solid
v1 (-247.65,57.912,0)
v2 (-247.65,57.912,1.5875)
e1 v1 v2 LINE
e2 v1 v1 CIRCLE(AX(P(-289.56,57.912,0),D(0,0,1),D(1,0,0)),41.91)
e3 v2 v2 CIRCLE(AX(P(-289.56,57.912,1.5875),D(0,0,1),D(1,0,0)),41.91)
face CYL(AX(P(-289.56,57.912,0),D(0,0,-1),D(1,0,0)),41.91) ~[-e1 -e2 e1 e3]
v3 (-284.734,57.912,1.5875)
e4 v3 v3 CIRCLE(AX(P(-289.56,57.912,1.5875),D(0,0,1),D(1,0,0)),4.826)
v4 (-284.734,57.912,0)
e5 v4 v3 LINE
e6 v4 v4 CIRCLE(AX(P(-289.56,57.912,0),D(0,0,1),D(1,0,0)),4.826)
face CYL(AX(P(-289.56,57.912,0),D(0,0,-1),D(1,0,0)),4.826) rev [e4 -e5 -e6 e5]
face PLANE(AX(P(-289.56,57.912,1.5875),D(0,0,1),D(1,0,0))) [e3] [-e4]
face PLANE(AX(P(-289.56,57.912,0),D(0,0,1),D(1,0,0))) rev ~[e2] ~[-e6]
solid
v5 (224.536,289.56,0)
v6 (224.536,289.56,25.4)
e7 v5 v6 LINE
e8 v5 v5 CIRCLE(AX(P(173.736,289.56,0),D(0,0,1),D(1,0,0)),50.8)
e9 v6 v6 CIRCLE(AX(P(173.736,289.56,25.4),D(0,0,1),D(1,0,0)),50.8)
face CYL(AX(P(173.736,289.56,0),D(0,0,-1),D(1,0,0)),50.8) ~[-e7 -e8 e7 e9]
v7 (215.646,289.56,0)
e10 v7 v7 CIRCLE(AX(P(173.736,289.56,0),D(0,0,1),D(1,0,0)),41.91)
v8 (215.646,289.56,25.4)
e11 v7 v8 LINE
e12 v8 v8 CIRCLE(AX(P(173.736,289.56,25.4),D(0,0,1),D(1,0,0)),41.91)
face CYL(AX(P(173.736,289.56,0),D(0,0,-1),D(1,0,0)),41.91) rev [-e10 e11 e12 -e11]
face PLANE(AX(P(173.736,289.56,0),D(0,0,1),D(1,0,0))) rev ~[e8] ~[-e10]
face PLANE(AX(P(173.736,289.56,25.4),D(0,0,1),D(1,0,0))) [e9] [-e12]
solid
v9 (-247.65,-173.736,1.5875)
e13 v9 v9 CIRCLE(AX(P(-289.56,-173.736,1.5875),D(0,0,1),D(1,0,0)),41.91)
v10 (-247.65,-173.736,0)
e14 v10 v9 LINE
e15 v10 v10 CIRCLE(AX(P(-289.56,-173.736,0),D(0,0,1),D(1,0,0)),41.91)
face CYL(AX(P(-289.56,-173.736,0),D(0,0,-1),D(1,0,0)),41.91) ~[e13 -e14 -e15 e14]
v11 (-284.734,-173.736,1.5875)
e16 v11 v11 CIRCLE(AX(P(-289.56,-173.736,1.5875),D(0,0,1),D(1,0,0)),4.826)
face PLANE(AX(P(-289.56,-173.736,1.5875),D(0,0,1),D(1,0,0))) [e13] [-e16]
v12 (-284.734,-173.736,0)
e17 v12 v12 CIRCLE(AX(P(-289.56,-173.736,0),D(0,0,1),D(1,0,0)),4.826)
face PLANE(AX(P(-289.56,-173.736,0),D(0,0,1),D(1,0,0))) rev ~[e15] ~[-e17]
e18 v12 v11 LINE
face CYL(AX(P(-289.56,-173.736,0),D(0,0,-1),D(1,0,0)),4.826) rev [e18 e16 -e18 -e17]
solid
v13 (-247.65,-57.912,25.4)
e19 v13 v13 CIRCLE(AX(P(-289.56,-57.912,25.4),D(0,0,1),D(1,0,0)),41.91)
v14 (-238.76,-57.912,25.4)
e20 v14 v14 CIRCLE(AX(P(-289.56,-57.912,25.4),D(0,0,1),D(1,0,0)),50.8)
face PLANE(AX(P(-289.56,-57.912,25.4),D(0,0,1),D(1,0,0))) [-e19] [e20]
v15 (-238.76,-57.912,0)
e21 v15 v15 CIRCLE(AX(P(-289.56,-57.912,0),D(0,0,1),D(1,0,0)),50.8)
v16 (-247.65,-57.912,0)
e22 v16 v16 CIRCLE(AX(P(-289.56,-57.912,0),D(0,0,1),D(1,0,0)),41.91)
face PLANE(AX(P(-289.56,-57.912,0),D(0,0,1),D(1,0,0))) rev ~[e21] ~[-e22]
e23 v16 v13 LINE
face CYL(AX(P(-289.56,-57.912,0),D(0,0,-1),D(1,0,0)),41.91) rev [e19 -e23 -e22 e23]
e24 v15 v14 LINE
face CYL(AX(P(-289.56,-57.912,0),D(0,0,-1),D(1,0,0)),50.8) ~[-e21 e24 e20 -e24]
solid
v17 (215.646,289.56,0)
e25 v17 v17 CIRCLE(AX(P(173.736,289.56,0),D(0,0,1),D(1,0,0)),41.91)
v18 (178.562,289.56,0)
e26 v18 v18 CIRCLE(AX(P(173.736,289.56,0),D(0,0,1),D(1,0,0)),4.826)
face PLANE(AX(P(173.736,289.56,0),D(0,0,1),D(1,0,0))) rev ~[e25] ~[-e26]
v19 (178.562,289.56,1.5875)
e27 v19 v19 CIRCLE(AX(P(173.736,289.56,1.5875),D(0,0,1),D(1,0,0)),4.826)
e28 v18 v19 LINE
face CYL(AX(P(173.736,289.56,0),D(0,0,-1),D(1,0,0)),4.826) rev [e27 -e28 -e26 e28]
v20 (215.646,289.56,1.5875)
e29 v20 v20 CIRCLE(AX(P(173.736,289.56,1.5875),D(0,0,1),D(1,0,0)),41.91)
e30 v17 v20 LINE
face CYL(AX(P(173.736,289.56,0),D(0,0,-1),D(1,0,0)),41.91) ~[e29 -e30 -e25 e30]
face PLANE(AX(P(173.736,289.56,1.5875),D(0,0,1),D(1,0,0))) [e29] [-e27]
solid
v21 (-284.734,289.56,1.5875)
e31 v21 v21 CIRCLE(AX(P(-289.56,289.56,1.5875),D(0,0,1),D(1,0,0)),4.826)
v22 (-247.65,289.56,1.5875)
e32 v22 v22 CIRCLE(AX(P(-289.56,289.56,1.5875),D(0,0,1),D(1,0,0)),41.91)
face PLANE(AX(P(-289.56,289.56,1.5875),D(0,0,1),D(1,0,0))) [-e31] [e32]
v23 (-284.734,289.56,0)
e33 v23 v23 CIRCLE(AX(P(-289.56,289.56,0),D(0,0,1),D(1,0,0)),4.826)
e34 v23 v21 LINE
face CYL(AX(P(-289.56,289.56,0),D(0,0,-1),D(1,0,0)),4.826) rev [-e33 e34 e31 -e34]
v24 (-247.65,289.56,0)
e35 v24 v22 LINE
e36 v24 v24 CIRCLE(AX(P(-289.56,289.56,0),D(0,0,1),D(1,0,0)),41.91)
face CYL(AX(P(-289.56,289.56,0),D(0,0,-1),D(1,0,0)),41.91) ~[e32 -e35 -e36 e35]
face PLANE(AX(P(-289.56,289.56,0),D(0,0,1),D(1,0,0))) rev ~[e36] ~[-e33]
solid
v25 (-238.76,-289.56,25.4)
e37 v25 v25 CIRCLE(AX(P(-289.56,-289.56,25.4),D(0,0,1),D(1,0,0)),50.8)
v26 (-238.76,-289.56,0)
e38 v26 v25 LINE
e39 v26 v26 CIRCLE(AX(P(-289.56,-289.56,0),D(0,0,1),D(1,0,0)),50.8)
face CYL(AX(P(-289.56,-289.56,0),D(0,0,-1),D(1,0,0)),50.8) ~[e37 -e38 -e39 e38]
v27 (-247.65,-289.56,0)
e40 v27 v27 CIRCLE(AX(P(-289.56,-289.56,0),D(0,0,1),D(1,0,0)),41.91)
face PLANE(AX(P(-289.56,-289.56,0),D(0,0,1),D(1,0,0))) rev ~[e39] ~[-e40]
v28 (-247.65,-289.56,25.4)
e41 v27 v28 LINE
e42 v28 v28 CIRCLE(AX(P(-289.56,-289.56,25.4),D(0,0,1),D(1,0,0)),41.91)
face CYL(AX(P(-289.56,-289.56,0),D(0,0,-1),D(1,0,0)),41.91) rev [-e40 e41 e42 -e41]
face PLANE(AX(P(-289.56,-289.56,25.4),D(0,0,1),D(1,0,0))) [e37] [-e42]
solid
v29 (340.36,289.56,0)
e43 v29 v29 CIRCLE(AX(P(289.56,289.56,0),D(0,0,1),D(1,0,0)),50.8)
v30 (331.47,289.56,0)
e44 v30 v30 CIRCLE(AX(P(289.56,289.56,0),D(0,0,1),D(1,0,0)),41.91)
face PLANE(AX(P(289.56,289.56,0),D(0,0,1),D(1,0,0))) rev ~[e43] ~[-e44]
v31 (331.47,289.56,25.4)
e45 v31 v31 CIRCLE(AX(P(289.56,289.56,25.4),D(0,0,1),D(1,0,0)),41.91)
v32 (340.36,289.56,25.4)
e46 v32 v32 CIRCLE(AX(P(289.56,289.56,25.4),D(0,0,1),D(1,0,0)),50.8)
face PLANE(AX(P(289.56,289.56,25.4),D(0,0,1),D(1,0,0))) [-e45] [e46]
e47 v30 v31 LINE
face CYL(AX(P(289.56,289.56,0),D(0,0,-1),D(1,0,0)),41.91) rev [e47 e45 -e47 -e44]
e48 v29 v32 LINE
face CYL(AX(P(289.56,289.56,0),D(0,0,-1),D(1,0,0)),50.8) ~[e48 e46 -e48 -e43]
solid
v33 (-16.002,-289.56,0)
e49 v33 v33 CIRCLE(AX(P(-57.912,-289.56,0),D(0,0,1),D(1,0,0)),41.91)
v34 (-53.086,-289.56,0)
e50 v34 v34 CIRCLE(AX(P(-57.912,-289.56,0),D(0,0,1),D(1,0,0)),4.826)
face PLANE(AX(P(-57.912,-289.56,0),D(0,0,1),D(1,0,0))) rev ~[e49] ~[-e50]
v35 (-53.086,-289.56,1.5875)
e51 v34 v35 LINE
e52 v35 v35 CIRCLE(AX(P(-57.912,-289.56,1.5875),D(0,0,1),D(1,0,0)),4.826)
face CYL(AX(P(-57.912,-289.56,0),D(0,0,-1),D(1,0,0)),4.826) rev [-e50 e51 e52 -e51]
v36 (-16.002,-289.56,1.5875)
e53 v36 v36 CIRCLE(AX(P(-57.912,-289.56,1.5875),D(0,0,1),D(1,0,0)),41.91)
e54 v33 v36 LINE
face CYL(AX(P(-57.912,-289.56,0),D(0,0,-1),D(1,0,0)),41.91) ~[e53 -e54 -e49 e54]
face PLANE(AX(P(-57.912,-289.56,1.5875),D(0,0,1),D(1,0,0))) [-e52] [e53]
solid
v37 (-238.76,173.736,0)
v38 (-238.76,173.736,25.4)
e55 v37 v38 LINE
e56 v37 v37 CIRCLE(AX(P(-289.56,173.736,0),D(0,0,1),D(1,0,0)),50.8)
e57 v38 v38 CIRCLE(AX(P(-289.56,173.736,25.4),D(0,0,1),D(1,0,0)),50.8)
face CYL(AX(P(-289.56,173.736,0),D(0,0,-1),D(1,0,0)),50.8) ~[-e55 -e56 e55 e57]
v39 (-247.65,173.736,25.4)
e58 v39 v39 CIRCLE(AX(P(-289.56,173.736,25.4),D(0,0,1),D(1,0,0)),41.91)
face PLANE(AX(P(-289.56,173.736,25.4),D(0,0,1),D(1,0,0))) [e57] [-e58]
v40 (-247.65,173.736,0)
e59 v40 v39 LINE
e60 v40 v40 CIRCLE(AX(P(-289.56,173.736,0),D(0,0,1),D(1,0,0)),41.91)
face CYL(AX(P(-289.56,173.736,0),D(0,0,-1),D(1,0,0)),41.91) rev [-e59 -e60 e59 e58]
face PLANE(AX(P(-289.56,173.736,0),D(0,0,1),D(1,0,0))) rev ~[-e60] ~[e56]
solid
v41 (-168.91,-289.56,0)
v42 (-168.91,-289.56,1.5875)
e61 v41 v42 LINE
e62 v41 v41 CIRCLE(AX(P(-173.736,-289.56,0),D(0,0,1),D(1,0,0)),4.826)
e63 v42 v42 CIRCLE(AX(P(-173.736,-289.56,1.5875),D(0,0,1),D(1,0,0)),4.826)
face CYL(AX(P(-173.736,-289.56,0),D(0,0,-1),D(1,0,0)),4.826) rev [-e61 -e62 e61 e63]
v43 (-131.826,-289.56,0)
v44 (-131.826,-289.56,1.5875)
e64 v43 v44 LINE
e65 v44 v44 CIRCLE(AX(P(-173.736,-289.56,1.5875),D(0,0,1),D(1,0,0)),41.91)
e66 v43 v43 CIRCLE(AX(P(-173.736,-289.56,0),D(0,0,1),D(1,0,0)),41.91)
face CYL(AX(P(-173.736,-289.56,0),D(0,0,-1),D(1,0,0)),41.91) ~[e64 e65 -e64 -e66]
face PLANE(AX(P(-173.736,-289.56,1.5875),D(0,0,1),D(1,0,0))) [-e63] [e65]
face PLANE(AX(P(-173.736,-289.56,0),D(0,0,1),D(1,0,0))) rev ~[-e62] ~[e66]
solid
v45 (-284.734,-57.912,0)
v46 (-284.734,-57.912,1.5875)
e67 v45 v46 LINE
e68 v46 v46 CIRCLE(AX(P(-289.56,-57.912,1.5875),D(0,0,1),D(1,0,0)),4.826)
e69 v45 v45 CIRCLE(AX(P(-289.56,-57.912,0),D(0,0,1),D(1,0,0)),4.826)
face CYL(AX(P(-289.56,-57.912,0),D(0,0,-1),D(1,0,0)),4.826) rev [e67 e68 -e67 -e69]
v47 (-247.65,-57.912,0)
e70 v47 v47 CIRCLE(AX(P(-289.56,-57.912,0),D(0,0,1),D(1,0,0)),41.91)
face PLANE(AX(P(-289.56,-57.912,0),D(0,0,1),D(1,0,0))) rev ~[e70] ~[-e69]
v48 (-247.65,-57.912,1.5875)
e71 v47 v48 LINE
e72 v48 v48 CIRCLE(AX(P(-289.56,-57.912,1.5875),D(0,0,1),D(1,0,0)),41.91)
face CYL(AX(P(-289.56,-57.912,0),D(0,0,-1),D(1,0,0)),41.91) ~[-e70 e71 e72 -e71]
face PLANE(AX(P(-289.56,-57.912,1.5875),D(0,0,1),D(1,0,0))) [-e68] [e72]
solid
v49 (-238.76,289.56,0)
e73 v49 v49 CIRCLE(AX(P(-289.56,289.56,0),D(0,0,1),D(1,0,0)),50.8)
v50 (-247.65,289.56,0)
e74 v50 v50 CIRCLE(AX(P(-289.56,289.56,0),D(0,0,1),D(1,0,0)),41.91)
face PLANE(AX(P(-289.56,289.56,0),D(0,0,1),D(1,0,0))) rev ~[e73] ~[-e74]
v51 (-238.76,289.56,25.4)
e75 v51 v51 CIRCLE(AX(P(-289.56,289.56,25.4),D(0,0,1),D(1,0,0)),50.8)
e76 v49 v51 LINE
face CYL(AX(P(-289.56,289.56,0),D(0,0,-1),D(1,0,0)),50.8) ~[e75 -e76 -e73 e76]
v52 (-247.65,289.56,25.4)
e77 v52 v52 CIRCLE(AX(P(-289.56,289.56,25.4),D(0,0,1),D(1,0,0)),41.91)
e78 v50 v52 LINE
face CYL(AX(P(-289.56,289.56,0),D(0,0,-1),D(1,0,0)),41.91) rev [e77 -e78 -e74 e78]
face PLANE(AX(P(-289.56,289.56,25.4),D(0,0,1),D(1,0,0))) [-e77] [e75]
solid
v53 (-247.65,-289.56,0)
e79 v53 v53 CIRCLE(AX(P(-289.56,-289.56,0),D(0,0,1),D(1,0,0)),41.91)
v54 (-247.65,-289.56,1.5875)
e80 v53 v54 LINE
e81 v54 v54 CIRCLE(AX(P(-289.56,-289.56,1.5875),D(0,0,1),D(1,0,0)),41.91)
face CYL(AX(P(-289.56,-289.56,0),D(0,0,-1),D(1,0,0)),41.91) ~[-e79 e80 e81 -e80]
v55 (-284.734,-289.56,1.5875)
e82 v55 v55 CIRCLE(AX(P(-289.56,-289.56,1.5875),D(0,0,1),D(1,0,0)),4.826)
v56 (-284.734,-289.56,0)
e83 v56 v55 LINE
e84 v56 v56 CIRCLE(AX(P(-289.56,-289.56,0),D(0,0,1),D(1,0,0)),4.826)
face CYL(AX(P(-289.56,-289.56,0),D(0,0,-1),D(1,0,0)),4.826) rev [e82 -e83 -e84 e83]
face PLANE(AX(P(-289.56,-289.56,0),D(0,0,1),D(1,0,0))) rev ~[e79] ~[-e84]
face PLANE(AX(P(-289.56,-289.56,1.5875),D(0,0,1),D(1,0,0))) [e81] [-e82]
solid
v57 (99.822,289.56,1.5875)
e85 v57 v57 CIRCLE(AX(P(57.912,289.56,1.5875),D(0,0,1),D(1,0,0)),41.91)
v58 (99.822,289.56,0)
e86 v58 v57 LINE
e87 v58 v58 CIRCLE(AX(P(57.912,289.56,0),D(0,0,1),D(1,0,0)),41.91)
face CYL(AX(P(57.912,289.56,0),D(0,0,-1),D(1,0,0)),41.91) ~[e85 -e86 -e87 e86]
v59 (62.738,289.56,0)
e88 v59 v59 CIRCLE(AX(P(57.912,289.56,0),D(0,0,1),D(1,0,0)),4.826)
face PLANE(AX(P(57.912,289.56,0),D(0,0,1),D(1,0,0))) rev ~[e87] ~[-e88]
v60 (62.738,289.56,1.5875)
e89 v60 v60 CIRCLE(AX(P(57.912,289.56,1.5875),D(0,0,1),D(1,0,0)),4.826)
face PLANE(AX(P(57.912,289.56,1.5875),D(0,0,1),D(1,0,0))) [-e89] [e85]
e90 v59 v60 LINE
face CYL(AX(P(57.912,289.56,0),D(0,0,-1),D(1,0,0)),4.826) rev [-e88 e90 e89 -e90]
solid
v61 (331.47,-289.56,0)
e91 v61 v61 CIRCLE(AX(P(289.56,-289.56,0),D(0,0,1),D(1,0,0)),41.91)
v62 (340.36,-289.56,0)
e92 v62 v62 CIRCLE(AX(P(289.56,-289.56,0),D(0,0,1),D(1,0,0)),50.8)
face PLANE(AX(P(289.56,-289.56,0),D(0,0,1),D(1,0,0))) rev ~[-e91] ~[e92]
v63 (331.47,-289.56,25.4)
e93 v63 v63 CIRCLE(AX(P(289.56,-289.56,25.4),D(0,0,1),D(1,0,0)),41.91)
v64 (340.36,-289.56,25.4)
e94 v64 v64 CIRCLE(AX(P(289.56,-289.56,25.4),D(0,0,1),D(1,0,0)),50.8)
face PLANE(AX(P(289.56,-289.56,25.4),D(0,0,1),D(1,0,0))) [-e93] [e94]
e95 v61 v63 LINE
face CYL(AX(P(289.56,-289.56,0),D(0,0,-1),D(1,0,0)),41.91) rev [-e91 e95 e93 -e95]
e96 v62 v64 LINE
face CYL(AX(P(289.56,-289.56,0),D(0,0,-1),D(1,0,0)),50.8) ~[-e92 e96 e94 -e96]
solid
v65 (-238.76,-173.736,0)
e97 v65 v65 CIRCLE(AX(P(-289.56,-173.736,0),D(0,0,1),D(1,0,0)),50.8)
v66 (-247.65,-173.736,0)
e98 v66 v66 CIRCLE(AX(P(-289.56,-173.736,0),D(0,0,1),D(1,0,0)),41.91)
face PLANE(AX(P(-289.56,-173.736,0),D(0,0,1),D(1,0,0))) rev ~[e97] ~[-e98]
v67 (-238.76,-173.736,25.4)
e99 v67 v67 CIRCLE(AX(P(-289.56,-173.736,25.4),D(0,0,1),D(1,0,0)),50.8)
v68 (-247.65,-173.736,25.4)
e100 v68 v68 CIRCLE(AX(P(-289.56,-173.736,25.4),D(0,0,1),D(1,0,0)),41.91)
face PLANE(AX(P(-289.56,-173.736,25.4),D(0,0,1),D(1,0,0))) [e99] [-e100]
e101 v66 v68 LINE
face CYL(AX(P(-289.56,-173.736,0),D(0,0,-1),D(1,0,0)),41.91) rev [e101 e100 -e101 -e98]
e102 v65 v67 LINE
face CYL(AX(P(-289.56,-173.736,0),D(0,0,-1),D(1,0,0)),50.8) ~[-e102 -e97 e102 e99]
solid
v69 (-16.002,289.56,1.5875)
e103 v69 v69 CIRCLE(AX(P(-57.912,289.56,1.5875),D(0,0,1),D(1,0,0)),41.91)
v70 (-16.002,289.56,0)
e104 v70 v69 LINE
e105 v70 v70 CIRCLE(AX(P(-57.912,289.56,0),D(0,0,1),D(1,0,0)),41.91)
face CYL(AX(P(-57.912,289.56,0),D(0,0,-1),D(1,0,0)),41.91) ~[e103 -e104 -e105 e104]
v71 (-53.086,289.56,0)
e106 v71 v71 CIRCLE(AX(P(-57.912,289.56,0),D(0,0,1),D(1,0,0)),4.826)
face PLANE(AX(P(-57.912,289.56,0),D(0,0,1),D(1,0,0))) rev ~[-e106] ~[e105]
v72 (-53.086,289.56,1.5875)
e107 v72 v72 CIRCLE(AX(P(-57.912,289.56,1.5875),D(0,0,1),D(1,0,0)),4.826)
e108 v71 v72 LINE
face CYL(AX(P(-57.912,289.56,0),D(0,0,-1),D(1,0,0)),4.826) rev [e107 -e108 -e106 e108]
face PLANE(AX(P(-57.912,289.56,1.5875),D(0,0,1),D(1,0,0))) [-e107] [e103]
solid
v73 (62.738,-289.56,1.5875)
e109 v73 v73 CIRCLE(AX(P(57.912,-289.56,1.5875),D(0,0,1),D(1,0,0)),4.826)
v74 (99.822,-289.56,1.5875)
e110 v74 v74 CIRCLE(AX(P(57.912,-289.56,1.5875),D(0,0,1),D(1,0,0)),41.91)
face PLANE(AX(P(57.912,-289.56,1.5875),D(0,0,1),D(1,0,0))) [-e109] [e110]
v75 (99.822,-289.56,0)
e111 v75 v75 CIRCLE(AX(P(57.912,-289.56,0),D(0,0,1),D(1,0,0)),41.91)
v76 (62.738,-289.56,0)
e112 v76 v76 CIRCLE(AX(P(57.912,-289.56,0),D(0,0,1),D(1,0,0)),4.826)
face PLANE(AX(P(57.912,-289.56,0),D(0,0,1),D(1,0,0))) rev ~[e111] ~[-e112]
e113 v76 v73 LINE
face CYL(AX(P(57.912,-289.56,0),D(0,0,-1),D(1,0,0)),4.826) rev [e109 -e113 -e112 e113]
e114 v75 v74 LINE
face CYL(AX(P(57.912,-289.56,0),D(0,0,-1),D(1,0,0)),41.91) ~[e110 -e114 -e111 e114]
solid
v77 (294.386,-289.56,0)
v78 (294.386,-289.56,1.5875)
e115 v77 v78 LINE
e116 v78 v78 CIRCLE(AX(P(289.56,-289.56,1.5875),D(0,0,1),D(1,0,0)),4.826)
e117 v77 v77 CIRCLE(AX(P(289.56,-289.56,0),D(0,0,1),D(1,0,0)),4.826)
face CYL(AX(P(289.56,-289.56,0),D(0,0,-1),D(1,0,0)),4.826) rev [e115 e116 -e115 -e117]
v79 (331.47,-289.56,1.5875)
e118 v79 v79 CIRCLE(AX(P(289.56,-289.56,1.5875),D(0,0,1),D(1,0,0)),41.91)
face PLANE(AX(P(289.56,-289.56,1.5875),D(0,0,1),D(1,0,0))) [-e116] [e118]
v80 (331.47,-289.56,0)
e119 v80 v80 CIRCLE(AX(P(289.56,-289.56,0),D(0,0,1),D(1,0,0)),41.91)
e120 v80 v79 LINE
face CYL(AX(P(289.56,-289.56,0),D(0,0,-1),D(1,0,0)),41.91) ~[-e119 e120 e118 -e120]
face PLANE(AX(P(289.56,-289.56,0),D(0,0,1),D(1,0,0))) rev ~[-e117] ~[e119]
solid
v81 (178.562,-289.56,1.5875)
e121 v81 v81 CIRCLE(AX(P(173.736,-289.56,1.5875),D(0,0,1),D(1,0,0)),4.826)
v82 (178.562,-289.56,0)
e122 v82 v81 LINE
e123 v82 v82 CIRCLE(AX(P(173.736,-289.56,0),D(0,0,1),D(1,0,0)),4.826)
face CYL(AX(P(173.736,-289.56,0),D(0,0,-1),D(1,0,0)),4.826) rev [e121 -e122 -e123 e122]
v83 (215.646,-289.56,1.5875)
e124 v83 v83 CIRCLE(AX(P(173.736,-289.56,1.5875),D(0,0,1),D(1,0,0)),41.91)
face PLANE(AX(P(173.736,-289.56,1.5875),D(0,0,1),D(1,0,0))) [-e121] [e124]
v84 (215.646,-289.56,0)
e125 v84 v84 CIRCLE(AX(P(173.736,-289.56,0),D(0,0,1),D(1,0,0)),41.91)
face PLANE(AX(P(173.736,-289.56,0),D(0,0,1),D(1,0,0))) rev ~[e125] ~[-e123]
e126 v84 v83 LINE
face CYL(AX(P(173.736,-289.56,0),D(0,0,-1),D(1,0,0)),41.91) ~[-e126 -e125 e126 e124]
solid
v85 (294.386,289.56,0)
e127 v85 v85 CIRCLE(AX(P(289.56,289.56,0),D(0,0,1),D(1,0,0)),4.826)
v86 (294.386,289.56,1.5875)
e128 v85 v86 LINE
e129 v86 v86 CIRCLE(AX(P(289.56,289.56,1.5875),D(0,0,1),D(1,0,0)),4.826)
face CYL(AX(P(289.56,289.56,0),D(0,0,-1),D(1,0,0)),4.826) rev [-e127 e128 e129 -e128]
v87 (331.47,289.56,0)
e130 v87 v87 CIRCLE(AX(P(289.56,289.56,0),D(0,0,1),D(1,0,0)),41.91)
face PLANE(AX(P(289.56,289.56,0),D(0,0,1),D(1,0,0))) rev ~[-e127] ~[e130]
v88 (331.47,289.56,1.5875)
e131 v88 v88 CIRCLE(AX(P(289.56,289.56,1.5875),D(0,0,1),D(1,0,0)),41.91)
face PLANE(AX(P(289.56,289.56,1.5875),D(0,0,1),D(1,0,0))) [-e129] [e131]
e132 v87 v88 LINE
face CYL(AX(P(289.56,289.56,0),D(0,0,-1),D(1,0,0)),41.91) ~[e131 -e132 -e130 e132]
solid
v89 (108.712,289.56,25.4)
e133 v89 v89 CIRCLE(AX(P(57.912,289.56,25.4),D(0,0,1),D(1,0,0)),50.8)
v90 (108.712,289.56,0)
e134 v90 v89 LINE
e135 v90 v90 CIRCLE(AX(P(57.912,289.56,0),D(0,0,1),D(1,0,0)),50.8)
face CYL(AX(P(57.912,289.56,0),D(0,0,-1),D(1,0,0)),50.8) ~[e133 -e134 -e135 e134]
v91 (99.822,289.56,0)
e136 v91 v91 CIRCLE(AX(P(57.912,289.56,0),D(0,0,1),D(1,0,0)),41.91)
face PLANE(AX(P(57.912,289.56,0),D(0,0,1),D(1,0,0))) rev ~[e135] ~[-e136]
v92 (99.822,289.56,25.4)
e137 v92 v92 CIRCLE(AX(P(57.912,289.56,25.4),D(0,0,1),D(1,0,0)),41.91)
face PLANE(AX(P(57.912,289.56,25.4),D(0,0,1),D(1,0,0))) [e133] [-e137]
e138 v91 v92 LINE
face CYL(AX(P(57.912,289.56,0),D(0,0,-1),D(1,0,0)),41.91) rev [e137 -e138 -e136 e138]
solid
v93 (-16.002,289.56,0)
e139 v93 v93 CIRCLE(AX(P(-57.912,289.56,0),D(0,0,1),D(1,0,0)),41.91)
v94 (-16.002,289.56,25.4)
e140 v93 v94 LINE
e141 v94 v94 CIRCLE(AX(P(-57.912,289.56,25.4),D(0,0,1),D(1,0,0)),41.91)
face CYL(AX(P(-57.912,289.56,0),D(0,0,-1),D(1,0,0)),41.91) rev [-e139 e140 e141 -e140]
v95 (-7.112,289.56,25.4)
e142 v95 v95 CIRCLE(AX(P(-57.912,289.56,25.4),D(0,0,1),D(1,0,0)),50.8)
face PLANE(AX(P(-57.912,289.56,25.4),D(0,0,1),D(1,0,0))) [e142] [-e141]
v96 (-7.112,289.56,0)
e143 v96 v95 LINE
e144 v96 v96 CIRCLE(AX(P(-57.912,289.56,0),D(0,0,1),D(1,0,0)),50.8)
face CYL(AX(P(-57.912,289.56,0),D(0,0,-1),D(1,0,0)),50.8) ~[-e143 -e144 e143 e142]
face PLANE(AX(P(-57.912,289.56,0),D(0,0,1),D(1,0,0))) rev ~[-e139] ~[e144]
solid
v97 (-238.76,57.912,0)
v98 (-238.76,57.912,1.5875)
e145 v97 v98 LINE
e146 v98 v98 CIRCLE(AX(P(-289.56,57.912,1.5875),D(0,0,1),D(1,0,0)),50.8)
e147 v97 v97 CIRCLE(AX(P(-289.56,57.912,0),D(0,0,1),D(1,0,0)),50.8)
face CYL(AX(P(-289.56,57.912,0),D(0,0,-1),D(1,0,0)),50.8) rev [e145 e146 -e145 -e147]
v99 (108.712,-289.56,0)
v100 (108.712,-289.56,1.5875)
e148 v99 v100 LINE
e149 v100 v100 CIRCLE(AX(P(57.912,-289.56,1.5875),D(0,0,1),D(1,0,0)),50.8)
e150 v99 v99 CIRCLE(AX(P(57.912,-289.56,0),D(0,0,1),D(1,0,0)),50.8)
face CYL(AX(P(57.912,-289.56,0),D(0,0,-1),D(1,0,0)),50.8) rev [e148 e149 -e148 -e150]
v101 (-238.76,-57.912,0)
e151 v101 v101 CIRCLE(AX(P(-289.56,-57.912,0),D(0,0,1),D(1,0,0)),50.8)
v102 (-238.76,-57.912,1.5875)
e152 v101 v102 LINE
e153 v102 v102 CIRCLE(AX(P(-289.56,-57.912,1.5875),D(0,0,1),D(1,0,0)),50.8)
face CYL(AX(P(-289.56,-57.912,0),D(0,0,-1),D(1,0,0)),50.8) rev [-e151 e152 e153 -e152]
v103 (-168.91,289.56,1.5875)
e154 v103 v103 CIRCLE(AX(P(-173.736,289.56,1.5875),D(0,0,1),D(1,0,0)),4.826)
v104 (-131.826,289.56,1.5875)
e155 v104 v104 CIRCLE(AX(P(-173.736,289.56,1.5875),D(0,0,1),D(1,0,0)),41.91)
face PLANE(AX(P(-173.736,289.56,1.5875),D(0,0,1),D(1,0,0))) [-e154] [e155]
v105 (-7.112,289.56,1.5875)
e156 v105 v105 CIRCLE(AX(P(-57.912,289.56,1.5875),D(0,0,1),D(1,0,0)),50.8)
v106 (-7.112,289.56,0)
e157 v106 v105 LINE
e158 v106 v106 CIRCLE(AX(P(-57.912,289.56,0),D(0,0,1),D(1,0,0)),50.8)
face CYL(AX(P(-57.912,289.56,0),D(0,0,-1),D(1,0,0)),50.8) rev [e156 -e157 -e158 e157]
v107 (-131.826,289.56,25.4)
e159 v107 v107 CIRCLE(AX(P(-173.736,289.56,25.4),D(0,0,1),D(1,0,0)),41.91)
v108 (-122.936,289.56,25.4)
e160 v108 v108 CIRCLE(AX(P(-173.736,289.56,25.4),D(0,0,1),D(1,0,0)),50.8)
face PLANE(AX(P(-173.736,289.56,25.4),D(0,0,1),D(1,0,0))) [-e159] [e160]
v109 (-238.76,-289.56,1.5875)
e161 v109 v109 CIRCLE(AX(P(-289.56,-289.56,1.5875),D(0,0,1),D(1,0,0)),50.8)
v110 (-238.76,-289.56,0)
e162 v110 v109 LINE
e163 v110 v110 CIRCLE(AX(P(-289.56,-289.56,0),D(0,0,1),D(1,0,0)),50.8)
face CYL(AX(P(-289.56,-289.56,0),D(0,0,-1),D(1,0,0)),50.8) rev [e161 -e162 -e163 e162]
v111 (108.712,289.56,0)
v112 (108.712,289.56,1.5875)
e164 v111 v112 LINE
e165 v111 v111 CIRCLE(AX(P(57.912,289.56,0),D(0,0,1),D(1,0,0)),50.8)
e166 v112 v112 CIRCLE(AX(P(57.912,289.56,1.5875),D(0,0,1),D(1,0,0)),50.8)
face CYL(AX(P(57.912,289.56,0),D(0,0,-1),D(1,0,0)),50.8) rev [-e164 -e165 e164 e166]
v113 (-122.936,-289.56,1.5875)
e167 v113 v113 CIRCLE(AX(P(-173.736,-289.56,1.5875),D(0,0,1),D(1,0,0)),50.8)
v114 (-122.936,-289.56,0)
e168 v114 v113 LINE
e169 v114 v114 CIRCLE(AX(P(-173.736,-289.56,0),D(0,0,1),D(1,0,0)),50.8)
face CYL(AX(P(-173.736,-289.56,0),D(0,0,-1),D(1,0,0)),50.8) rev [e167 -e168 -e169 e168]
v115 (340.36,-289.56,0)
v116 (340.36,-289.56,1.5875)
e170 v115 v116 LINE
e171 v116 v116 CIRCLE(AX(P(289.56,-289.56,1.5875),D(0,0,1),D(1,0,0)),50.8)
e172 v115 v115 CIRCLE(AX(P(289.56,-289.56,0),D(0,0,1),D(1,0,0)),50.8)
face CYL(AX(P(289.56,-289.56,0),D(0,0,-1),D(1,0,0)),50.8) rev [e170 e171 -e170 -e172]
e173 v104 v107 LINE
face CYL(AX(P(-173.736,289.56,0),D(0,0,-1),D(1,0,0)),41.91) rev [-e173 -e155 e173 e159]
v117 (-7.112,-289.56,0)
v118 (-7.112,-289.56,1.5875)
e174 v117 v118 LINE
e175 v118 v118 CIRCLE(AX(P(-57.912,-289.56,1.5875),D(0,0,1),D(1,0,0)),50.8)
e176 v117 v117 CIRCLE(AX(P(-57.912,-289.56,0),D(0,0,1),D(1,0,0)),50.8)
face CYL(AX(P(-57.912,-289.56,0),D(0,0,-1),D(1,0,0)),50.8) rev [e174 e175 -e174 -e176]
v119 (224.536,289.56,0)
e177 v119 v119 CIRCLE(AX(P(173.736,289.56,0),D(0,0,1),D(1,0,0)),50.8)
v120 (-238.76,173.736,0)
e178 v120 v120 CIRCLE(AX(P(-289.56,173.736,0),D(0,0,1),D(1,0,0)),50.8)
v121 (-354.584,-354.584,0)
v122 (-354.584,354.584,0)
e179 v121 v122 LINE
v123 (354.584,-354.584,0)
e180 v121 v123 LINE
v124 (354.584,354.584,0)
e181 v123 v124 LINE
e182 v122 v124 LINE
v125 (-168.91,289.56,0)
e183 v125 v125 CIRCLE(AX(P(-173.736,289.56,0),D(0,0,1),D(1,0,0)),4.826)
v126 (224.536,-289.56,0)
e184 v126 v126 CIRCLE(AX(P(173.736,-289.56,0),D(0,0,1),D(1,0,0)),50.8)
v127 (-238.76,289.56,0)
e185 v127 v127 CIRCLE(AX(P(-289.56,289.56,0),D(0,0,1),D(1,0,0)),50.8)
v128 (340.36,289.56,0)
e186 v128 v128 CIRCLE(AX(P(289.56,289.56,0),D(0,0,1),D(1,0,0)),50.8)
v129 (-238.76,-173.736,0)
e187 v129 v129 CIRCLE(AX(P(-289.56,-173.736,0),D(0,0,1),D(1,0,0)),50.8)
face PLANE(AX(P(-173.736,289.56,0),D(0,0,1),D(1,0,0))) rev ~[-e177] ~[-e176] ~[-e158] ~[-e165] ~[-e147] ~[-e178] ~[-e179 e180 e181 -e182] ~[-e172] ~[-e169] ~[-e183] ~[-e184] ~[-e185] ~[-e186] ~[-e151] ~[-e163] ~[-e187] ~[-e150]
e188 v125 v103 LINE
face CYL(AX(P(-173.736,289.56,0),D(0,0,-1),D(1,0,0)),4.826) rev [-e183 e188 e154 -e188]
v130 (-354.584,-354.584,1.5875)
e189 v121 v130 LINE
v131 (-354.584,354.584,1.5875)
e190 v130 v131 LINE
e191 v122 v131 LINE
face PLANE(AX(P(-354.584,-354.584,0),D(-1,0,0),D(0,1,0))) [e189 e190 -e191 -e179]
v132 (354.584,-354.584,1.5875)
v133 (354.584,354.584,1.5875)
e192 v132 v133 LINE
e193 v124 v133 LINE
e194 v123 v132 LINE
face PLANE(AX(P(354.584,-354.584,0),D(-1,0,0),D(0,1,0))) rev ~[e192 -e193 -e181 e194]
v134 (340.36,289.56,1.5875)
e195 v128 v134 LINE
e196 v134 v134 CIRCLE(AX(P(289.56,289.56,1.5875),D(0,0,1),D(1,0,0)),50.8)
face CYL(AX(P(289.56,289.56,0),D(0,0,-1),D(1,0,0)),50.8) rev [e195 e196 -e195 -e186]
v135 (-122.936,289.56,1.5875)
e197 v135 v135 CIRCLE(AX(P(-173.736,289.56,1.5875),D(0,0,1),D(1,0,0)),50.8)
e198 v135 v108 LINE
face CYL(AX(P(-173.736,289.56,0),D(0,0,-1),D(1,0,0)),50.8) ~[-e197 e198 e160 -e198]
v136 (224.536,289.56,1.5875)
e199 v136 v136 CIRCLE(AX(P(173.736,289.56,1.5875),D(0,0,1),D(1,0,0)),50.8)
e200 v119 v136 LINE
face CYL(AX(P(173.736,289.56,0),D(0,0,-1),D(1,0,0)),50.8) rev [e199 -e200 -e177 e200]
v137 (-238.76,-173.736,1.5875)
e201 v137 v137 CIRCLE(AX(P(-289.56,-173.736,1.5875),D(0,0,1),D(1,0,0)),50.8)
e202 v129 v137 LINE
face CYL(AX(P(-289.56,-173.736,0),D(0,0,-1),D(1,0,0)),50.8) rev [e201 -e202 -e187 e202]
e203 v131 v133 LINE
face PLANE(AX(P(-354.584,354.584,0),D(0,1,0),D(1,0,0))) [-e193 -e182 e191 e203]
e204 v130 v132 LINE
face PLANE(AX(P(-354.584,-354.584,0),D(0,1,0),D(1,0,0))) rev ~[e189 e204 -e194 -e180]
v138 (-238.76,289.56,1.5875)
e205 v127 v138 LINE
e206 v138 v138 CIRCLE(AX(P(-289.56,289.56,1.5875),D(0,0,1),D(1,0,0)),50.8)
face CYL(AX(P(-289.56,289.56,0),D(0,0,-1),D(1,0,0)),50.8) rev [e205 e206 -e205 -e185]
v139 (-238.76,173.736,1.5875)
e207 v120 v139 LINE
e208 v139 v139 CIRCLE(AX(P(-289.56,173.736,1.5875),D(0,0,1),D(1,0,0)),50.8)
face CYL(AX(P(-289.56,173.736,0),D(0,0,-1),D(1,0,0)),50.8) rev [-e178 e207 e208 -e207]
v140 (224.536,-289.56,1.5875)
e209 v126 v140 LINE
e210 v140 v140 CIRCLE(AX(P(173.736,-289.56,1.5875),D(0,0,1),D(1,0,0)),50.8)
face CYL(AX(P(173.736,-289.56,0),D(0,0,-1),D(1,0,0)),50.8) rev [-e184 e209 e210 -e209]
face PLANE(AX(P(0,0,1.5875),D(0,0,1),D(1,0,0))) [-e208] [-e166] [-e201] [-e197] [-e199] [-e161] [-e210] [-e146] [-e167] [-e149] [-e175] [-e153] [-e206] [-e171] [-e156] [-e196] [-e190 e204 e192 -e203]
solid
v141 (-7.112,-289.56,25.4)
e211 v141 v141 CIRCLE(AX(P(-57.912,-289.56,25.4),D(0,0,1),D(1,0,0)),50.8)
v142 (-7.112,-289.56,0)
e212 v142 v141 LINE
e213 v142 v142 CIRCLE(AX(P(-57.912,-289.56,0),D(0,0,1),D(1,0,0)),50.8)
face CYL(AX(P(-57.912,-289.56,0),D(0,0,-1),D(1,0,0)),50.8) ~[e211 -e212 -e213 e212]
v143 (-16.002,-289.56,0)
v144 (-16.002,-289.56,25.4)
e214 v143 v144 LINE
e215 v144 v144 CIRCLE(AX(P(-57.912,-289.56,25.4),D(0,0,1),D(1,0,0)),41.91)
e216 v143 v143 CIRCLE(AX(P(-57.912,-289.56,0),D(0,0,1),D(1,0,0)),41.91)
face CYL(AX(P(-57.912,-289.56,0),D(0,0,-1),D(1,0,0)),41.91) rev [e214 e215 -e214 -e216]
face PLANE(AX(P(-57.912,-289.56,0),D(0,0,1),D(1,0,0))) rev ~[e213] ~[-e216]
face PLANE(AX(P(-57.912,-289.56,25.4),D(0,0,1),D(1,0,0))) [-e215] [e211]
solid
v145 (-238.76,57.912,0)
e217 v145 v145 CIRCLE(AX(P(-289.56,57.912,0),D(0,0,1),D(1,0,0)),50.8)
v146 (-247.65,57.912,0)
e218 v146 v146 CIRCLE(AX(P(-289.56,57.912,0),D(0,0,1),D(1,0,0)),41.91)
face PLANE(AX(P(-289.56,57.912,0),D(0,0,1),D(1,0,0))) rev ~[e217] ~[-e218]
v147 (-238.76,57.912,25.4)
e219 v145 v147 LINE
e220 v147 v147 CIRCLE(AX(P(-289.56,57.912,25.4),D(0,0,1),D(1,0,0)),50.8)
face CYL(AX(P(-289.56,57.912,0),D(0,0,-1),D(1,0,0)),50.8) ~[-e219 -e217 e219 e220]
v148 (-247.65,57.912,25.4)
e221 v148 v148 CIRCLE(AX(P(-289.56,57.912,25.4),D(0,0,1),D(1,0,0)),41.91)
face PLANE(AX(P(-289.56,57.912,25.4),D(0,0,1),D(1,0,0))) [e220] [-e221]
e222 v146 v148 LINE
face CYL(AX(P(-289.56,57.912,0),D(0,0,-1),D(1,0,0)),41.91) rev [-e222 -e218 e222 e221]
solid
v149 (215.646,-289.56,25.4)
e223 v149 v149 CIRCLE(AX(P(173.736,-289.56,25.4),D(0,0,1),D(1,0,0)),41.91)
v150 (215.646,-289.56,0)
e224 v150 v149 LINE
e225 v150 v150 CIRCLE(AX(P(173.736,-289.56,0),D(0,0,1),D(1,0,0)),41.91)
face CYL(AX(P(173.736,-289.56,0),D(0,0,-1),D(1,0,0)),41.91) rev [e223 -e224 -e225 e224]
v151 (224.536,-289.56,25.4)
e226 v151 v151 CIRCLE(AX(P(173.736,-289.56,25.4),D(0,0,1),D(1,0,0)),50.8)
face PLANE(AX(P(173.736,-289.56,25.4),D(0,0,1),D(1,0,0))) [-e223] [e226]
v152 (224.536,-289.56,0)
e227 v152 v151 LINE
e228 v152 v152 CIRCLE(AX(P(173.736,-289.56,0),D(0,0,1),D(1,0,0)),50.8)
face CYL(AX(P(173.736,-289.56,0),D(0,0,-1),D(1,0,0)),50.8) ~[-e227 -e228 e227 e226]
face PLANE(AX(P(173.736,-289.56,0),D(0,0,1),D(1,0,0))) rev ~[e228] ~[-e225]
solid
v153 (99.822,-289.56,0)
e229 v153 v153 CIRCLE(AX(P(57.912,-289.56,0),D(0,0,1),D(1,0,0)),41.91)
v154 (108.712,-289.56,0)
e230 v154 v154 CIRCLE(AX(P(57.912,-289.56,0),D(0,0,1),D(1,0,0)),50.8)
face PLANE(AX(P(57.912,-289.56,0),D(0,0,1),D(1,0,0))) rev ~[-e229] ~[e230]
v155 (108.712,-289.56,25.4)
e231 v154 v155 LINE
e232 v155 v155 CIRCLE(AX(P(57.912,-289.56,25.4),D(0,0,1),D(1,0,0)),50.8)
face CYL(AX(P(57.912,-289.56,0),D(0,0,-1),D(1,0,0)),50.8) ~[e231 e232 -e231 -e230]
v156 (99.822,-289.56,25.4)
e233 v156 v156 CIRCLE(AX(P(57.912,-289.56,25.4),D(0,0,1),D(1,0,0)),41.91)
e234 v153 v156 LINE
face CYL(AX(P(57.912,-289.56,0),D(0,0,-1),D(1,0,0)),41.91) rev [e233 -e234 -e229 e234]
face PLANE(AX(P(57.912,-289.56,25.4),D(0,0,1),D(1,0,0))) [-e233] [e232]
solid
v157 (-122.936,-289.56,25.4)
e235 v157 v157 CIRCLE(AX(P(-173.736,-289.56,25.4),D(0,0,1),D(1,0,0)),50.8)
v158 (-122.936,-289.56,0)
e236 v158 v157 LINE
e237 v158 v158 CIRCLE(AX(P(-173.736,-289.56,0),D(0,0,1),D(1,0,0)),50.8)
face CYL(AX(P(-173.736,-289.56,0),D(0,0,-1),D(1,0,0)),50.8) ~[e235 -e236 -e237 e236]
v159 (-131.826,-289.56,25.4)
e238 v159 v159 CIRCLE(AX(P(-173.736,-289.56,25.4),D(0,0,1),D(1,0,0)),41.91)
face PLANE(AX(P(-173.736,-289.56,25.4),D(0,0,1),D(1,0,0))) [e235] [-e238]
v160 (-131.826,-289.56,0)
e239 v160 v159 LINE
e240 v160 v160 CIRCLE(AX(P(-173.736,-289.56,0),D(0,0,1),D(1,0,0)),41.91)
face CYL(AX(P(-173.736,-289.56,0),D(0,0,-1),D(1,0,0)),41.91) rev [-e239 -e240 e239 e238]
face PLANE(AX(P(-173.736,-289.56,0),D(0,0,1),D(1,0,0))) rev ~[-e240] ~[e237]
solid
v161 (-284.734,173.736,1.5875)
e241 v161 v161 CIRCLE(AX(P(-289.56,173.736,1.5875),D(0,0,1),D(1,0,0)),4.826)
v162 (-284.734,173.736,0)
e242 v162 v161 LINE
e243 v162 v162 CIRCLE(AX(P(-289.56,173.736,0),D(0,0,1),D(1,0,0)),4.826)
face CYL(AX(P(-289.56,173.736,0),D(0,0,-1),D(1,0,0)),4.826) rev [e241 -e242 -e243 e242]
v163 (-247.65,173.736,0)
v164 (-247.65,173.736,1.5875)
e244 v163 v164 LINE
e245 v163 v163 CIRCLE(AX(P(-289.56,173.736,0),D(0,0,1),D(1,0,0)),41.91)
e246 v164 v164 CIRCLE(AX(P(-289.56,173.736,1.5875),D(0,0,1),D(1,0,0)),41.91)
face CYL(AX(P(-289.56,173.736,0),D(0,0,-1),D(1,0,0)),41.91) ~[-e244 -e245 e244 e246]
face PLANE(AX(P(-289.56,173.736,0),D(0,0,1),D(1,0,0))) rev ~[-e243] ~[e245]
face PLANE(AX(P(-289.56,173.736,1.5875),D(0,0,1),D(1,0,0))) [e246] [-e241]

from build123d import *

# Parameters (mm, degrees)
F0_W     = 709.168
F0_H     = 709.168
F0_R     = 50.8
F1_DEPTH = 1.5875
F0_R_2   = 41.91
F2_DEPTH = 25.4
F0_R_3   = 4.826
F3_DEPTH = 1.5875
F4_DEPTH = 25.4


with BuildPart() as f1:
    # F0 (on Top) → F1 (new body)
    with BuildSketch(Plane.XY):
        Rectangle(F0_W, F0_H)
        with Locations((-289.56, -289.56)):
            Circle(F0_R, mode=Mode.SUBTRACT)
        with Locations((-173.736, -289.56)):
            Circle(F0_R, mode=Mode.SUBTRACT)
        with Locations((-57.912, -289.56)):
            Circle(F0_R, mode=Mode.SUBTRACT)
        with Locations((-289.56, -173.736)):
            Circle(F0_R, mode=Mode.SUBTRACT)
        with Locations((-289.56, -57.912)):
            Circle(F0_R, mode=Mode.SUBTRACT)
        with Locations((57.912, -289.56)):
            Circle(F0_R, mode=Mode.SUBTRACT)
        with Locations((173.736, -289.56)):
            Circle(F0_R, mode=Mode.SUBTRACT)
        with Locations((289.56, -289.56)):
            Circle(F0_R, mode=Mode.SUBTRACT)
        with Locations((-289.56, 57.912)):
            Circle(F0_R, mode=Mode.SUBTRACT)
        with Locations((-289.56, 173.736)):
            Circle(F0_R, mode=Mode.SUBTRACT)
        with Locations((-289.56, 289.56)):
            Circle(F0_R, mode=Mode.SUBTRACT)
        with Locations((-173.736, 289.56)):
            Circle(F0_R, mode=Mode.SUBTRACT)
        with Locations((-57.912, 289.56)):
            Circle(F0_R, mode=Mode.SUBTRACT)
        with Locations((57.912, 289.56)):
            Circle(F0_R, mode=Mode.SUBTRACT)
        with Locations((173.736, 289.56)):
            Circle(F0_R, mode=Mode.SUBTRACT)
        with Locations((289.56, 289.56)):
            Circle(F0_R, mode=Mode.SUBTRACT)
    extrude(amount=F1_DEPTH)

    # F0 (on Top) → F2 (join)
    with BuildSketch(Plane.XY):
        with Locations((-173.736, 289.56)):
            Circle(F0_R)
        with Locations((-173.736, 289.56)):
            Circle(F0_R_2, mode=Mode.SUBTRACT)
    extrude(amount=F2_DEPTH)

    # F0 (on Top) → F3 (join)
    with BuildSketch(Plane.XY):
        with Locations((-289.56, 289.56)):
            Circle(F0_R_2)
        with Locations((-289.56, 289.56)):
            Circle(F0_R_3, mode=Mode.SUBTRACT)
        with Locations((-173.736, 289.56)):
            Circle(F0_R_2)
        with Locations((-173.736, 289.56)):
            Circle(F0_R_3, mode=Mode.SUBTRACT)
        with Locations((-57.912, 289.56)):
            Circle(F0_R_2)
        with Locations((-57.912, 289.56)):
            Circle(F0_R_3, mode=Mode.SUBTRACT)
        with Locations((57.912, 289.56)):
            Circle(F0_R_2)
        with Locations((57.912, 289.56)):
            Circle(F0_R_3, mode=Mode.SUBTRACT)
        with Locations((173.736, 289.56)):
            Circle(F0_R_2)
        with Locations((173.736, 289.56)):
            Circle(F0_R_3, mode=Mode.SUBTRACT)
        with Locations((-289.56, 173.736)):
            Circle(F0_R_2)
        with Locations((-289.56, 173.736)):
            Circle(F0_R_3, mode=Mode.SUBTRACT)
        with Locations((-289.56, 57.912)):
            Circle(F0_R_2)
        with Locations((-289.56, 57.912)):
            Circle(F0_R_3, mode=Mode.SUBTRACT)
        with Locations((-289.56, -57.912)):
            Circle(F0_R_2)
        with Locations((-289.56, -57.912)):
            Circle(F0_R_3, mode=Mode.SUBTRACT)
        with Locations((-289.56, -173.736)):
            Circle(F0_R_2)
        with Locations((-289.56, -173.736)):
            Circle(F0_R_3, mode=Mode.SUBTRACT)
        with Locations((-173.736, -289.56)):
            Circle(F0_R_2)
        with Locations((-173.736, -289.56)):
            Circle(F0_R_3, mode=Mode.SUBTRACT)
        with Locations((-289.56, -289.56)):
            Circle(F0_R_2)
        with Locations((-289.56, -289.56)):
            Circle(F0_R_3, mode=Mode.SUBTRACT)
        with Locations((-57.912, -289.56)):
            Circle(F0_R_2)
        with Locations((-57.912, -289.56)):
            Circle(F0_R_3, mode=Mode.SUBTRACT)
        with Locations((57.912, -289.56)):
            Circle(F0_R_2)
        with Locations((57.912, -289.56)):
            Circle(F0_R_3, mode=Mode.SUBTRACT)
        with Locations((173.736, -289.56)):
            Circle(F0_R_2)
        with Locations((173.736, -289.56)):
            Circle(F0_R_3, mode=Mode.SUBTRACT)
        with Locations((289.56, -289.56)):
            Circle(F0_R_2)
        with Locations((289.56, -289.56)):
            Circle(F0_R_3, mode=Mode.SUBTRACT)
        with Locations((289.56, 289.56)):
            Circle(F0_R_2)
        with Locations((289.56, 289.56)):
            Circle(F0_R_3, mode=Mode.SUBTRACT)
    extrude(amount=F3_DEPTH)


with BuildPart() as f4:
    # F0 (on Top) → F4 (new body)
    with BuildSketch(Plane.XY):
        with Locations((-289.56, 289.56)):
            Circle(F0_R)
        with Locations((-289.56, 289.56)):
            Circle(F0_R_2, mode=Mode.SUBTRACT)
        with Locations((-57.912, 289.56)):
            Circle(F0_R)
        with Locations((-57.912, 289.56)):
            Circle(F0_R_2, mode=Mode.SUBTRACT)
        with Locations((57.912, 289.56)):
            Circle(F0_R)
        with Locations((57.912, 289.56)):
            Circle(F0_R_2, mode=Mode.SUBTRACT)
        with Locations((-289.56, 173.736)):
            Circle(F0_R)
        with Locations((-289.56, 173.736)):
            Circle(F0_R_2, mode=Mode.SUBTRACT)
        with Locations((-289.56, 57.912)):
            Circle(F0_R)
        with Locations((-289.56, 57.912)):
            Circle(F0_R_2, mode=Mode.SUBTRACT)
        with Locations((-289.56, -57.912)):
            Circle(F0_R)
        with Locations((-289.56, -57.912)):
            Circle(F0_R_2, mode=Mode.SUBTRACT)
        with Locations((173.736, 289.56)):
            Circle(F0_R)
        with Locations((173.736, 289.56)):
            Circle(F0_R_2, mode=Mode.SUBTRACT)
        with Locations((289.56, 289.56)):
            Circle(F0_R)
        with Locations((289.56, 289.56)):
            Circle(F0_R_2, mode=Mode.SUBTRACT)
        with Locations((-289.56, -173.736)):
            Circle(F0_R)
        with Locations((-289.56, -173.736)):
            Circle(F0_R_2, mode=Mode.SUBTRACT)
        with Locations((-289.56, -289.56)):
            Circle(F0_R)
        with Locations((-289.56, -289.56)):
            Circle(F0_R_2, mode=Mode.SUBTRACT)
        with Locations((-173.736, -289.56)):
            Circle(F0_R)
        with Locations((-173.736, -289.56)):
            Circle(F0_R_2, mode=Mode.SUBTRACT)
        with Locations((-57.912, -289.56)):
            Circle(F0_R)
        with Locations((-57.912, -289.56)):
            Circle(F0_R_2, mode=Mode.SUBTRACT)
        with Locations((57.912, -289.56)):
            Circle(F0_R)
        with Locations((57.912, -289.56)):
            Circle(F0_R_2, mode=Mode.SUBTRACT)
        with Locations((173.736, -289.56)):
            Circle(F0_R)
        with Locations((173.736, -289.56)):
            Circle(F0_R_2, mode=Mode.SUBTRACT)
        with Locations((289.56, -289.56)):
            Circle(F0_R)
        with Locations((289.56, -289.56)):
            Circle(F0_R_2, mode=Mode.SUBTRACT)
    extrude(amount=F4_DEPTH)


solid = Compound([f1.part, f4.part])
